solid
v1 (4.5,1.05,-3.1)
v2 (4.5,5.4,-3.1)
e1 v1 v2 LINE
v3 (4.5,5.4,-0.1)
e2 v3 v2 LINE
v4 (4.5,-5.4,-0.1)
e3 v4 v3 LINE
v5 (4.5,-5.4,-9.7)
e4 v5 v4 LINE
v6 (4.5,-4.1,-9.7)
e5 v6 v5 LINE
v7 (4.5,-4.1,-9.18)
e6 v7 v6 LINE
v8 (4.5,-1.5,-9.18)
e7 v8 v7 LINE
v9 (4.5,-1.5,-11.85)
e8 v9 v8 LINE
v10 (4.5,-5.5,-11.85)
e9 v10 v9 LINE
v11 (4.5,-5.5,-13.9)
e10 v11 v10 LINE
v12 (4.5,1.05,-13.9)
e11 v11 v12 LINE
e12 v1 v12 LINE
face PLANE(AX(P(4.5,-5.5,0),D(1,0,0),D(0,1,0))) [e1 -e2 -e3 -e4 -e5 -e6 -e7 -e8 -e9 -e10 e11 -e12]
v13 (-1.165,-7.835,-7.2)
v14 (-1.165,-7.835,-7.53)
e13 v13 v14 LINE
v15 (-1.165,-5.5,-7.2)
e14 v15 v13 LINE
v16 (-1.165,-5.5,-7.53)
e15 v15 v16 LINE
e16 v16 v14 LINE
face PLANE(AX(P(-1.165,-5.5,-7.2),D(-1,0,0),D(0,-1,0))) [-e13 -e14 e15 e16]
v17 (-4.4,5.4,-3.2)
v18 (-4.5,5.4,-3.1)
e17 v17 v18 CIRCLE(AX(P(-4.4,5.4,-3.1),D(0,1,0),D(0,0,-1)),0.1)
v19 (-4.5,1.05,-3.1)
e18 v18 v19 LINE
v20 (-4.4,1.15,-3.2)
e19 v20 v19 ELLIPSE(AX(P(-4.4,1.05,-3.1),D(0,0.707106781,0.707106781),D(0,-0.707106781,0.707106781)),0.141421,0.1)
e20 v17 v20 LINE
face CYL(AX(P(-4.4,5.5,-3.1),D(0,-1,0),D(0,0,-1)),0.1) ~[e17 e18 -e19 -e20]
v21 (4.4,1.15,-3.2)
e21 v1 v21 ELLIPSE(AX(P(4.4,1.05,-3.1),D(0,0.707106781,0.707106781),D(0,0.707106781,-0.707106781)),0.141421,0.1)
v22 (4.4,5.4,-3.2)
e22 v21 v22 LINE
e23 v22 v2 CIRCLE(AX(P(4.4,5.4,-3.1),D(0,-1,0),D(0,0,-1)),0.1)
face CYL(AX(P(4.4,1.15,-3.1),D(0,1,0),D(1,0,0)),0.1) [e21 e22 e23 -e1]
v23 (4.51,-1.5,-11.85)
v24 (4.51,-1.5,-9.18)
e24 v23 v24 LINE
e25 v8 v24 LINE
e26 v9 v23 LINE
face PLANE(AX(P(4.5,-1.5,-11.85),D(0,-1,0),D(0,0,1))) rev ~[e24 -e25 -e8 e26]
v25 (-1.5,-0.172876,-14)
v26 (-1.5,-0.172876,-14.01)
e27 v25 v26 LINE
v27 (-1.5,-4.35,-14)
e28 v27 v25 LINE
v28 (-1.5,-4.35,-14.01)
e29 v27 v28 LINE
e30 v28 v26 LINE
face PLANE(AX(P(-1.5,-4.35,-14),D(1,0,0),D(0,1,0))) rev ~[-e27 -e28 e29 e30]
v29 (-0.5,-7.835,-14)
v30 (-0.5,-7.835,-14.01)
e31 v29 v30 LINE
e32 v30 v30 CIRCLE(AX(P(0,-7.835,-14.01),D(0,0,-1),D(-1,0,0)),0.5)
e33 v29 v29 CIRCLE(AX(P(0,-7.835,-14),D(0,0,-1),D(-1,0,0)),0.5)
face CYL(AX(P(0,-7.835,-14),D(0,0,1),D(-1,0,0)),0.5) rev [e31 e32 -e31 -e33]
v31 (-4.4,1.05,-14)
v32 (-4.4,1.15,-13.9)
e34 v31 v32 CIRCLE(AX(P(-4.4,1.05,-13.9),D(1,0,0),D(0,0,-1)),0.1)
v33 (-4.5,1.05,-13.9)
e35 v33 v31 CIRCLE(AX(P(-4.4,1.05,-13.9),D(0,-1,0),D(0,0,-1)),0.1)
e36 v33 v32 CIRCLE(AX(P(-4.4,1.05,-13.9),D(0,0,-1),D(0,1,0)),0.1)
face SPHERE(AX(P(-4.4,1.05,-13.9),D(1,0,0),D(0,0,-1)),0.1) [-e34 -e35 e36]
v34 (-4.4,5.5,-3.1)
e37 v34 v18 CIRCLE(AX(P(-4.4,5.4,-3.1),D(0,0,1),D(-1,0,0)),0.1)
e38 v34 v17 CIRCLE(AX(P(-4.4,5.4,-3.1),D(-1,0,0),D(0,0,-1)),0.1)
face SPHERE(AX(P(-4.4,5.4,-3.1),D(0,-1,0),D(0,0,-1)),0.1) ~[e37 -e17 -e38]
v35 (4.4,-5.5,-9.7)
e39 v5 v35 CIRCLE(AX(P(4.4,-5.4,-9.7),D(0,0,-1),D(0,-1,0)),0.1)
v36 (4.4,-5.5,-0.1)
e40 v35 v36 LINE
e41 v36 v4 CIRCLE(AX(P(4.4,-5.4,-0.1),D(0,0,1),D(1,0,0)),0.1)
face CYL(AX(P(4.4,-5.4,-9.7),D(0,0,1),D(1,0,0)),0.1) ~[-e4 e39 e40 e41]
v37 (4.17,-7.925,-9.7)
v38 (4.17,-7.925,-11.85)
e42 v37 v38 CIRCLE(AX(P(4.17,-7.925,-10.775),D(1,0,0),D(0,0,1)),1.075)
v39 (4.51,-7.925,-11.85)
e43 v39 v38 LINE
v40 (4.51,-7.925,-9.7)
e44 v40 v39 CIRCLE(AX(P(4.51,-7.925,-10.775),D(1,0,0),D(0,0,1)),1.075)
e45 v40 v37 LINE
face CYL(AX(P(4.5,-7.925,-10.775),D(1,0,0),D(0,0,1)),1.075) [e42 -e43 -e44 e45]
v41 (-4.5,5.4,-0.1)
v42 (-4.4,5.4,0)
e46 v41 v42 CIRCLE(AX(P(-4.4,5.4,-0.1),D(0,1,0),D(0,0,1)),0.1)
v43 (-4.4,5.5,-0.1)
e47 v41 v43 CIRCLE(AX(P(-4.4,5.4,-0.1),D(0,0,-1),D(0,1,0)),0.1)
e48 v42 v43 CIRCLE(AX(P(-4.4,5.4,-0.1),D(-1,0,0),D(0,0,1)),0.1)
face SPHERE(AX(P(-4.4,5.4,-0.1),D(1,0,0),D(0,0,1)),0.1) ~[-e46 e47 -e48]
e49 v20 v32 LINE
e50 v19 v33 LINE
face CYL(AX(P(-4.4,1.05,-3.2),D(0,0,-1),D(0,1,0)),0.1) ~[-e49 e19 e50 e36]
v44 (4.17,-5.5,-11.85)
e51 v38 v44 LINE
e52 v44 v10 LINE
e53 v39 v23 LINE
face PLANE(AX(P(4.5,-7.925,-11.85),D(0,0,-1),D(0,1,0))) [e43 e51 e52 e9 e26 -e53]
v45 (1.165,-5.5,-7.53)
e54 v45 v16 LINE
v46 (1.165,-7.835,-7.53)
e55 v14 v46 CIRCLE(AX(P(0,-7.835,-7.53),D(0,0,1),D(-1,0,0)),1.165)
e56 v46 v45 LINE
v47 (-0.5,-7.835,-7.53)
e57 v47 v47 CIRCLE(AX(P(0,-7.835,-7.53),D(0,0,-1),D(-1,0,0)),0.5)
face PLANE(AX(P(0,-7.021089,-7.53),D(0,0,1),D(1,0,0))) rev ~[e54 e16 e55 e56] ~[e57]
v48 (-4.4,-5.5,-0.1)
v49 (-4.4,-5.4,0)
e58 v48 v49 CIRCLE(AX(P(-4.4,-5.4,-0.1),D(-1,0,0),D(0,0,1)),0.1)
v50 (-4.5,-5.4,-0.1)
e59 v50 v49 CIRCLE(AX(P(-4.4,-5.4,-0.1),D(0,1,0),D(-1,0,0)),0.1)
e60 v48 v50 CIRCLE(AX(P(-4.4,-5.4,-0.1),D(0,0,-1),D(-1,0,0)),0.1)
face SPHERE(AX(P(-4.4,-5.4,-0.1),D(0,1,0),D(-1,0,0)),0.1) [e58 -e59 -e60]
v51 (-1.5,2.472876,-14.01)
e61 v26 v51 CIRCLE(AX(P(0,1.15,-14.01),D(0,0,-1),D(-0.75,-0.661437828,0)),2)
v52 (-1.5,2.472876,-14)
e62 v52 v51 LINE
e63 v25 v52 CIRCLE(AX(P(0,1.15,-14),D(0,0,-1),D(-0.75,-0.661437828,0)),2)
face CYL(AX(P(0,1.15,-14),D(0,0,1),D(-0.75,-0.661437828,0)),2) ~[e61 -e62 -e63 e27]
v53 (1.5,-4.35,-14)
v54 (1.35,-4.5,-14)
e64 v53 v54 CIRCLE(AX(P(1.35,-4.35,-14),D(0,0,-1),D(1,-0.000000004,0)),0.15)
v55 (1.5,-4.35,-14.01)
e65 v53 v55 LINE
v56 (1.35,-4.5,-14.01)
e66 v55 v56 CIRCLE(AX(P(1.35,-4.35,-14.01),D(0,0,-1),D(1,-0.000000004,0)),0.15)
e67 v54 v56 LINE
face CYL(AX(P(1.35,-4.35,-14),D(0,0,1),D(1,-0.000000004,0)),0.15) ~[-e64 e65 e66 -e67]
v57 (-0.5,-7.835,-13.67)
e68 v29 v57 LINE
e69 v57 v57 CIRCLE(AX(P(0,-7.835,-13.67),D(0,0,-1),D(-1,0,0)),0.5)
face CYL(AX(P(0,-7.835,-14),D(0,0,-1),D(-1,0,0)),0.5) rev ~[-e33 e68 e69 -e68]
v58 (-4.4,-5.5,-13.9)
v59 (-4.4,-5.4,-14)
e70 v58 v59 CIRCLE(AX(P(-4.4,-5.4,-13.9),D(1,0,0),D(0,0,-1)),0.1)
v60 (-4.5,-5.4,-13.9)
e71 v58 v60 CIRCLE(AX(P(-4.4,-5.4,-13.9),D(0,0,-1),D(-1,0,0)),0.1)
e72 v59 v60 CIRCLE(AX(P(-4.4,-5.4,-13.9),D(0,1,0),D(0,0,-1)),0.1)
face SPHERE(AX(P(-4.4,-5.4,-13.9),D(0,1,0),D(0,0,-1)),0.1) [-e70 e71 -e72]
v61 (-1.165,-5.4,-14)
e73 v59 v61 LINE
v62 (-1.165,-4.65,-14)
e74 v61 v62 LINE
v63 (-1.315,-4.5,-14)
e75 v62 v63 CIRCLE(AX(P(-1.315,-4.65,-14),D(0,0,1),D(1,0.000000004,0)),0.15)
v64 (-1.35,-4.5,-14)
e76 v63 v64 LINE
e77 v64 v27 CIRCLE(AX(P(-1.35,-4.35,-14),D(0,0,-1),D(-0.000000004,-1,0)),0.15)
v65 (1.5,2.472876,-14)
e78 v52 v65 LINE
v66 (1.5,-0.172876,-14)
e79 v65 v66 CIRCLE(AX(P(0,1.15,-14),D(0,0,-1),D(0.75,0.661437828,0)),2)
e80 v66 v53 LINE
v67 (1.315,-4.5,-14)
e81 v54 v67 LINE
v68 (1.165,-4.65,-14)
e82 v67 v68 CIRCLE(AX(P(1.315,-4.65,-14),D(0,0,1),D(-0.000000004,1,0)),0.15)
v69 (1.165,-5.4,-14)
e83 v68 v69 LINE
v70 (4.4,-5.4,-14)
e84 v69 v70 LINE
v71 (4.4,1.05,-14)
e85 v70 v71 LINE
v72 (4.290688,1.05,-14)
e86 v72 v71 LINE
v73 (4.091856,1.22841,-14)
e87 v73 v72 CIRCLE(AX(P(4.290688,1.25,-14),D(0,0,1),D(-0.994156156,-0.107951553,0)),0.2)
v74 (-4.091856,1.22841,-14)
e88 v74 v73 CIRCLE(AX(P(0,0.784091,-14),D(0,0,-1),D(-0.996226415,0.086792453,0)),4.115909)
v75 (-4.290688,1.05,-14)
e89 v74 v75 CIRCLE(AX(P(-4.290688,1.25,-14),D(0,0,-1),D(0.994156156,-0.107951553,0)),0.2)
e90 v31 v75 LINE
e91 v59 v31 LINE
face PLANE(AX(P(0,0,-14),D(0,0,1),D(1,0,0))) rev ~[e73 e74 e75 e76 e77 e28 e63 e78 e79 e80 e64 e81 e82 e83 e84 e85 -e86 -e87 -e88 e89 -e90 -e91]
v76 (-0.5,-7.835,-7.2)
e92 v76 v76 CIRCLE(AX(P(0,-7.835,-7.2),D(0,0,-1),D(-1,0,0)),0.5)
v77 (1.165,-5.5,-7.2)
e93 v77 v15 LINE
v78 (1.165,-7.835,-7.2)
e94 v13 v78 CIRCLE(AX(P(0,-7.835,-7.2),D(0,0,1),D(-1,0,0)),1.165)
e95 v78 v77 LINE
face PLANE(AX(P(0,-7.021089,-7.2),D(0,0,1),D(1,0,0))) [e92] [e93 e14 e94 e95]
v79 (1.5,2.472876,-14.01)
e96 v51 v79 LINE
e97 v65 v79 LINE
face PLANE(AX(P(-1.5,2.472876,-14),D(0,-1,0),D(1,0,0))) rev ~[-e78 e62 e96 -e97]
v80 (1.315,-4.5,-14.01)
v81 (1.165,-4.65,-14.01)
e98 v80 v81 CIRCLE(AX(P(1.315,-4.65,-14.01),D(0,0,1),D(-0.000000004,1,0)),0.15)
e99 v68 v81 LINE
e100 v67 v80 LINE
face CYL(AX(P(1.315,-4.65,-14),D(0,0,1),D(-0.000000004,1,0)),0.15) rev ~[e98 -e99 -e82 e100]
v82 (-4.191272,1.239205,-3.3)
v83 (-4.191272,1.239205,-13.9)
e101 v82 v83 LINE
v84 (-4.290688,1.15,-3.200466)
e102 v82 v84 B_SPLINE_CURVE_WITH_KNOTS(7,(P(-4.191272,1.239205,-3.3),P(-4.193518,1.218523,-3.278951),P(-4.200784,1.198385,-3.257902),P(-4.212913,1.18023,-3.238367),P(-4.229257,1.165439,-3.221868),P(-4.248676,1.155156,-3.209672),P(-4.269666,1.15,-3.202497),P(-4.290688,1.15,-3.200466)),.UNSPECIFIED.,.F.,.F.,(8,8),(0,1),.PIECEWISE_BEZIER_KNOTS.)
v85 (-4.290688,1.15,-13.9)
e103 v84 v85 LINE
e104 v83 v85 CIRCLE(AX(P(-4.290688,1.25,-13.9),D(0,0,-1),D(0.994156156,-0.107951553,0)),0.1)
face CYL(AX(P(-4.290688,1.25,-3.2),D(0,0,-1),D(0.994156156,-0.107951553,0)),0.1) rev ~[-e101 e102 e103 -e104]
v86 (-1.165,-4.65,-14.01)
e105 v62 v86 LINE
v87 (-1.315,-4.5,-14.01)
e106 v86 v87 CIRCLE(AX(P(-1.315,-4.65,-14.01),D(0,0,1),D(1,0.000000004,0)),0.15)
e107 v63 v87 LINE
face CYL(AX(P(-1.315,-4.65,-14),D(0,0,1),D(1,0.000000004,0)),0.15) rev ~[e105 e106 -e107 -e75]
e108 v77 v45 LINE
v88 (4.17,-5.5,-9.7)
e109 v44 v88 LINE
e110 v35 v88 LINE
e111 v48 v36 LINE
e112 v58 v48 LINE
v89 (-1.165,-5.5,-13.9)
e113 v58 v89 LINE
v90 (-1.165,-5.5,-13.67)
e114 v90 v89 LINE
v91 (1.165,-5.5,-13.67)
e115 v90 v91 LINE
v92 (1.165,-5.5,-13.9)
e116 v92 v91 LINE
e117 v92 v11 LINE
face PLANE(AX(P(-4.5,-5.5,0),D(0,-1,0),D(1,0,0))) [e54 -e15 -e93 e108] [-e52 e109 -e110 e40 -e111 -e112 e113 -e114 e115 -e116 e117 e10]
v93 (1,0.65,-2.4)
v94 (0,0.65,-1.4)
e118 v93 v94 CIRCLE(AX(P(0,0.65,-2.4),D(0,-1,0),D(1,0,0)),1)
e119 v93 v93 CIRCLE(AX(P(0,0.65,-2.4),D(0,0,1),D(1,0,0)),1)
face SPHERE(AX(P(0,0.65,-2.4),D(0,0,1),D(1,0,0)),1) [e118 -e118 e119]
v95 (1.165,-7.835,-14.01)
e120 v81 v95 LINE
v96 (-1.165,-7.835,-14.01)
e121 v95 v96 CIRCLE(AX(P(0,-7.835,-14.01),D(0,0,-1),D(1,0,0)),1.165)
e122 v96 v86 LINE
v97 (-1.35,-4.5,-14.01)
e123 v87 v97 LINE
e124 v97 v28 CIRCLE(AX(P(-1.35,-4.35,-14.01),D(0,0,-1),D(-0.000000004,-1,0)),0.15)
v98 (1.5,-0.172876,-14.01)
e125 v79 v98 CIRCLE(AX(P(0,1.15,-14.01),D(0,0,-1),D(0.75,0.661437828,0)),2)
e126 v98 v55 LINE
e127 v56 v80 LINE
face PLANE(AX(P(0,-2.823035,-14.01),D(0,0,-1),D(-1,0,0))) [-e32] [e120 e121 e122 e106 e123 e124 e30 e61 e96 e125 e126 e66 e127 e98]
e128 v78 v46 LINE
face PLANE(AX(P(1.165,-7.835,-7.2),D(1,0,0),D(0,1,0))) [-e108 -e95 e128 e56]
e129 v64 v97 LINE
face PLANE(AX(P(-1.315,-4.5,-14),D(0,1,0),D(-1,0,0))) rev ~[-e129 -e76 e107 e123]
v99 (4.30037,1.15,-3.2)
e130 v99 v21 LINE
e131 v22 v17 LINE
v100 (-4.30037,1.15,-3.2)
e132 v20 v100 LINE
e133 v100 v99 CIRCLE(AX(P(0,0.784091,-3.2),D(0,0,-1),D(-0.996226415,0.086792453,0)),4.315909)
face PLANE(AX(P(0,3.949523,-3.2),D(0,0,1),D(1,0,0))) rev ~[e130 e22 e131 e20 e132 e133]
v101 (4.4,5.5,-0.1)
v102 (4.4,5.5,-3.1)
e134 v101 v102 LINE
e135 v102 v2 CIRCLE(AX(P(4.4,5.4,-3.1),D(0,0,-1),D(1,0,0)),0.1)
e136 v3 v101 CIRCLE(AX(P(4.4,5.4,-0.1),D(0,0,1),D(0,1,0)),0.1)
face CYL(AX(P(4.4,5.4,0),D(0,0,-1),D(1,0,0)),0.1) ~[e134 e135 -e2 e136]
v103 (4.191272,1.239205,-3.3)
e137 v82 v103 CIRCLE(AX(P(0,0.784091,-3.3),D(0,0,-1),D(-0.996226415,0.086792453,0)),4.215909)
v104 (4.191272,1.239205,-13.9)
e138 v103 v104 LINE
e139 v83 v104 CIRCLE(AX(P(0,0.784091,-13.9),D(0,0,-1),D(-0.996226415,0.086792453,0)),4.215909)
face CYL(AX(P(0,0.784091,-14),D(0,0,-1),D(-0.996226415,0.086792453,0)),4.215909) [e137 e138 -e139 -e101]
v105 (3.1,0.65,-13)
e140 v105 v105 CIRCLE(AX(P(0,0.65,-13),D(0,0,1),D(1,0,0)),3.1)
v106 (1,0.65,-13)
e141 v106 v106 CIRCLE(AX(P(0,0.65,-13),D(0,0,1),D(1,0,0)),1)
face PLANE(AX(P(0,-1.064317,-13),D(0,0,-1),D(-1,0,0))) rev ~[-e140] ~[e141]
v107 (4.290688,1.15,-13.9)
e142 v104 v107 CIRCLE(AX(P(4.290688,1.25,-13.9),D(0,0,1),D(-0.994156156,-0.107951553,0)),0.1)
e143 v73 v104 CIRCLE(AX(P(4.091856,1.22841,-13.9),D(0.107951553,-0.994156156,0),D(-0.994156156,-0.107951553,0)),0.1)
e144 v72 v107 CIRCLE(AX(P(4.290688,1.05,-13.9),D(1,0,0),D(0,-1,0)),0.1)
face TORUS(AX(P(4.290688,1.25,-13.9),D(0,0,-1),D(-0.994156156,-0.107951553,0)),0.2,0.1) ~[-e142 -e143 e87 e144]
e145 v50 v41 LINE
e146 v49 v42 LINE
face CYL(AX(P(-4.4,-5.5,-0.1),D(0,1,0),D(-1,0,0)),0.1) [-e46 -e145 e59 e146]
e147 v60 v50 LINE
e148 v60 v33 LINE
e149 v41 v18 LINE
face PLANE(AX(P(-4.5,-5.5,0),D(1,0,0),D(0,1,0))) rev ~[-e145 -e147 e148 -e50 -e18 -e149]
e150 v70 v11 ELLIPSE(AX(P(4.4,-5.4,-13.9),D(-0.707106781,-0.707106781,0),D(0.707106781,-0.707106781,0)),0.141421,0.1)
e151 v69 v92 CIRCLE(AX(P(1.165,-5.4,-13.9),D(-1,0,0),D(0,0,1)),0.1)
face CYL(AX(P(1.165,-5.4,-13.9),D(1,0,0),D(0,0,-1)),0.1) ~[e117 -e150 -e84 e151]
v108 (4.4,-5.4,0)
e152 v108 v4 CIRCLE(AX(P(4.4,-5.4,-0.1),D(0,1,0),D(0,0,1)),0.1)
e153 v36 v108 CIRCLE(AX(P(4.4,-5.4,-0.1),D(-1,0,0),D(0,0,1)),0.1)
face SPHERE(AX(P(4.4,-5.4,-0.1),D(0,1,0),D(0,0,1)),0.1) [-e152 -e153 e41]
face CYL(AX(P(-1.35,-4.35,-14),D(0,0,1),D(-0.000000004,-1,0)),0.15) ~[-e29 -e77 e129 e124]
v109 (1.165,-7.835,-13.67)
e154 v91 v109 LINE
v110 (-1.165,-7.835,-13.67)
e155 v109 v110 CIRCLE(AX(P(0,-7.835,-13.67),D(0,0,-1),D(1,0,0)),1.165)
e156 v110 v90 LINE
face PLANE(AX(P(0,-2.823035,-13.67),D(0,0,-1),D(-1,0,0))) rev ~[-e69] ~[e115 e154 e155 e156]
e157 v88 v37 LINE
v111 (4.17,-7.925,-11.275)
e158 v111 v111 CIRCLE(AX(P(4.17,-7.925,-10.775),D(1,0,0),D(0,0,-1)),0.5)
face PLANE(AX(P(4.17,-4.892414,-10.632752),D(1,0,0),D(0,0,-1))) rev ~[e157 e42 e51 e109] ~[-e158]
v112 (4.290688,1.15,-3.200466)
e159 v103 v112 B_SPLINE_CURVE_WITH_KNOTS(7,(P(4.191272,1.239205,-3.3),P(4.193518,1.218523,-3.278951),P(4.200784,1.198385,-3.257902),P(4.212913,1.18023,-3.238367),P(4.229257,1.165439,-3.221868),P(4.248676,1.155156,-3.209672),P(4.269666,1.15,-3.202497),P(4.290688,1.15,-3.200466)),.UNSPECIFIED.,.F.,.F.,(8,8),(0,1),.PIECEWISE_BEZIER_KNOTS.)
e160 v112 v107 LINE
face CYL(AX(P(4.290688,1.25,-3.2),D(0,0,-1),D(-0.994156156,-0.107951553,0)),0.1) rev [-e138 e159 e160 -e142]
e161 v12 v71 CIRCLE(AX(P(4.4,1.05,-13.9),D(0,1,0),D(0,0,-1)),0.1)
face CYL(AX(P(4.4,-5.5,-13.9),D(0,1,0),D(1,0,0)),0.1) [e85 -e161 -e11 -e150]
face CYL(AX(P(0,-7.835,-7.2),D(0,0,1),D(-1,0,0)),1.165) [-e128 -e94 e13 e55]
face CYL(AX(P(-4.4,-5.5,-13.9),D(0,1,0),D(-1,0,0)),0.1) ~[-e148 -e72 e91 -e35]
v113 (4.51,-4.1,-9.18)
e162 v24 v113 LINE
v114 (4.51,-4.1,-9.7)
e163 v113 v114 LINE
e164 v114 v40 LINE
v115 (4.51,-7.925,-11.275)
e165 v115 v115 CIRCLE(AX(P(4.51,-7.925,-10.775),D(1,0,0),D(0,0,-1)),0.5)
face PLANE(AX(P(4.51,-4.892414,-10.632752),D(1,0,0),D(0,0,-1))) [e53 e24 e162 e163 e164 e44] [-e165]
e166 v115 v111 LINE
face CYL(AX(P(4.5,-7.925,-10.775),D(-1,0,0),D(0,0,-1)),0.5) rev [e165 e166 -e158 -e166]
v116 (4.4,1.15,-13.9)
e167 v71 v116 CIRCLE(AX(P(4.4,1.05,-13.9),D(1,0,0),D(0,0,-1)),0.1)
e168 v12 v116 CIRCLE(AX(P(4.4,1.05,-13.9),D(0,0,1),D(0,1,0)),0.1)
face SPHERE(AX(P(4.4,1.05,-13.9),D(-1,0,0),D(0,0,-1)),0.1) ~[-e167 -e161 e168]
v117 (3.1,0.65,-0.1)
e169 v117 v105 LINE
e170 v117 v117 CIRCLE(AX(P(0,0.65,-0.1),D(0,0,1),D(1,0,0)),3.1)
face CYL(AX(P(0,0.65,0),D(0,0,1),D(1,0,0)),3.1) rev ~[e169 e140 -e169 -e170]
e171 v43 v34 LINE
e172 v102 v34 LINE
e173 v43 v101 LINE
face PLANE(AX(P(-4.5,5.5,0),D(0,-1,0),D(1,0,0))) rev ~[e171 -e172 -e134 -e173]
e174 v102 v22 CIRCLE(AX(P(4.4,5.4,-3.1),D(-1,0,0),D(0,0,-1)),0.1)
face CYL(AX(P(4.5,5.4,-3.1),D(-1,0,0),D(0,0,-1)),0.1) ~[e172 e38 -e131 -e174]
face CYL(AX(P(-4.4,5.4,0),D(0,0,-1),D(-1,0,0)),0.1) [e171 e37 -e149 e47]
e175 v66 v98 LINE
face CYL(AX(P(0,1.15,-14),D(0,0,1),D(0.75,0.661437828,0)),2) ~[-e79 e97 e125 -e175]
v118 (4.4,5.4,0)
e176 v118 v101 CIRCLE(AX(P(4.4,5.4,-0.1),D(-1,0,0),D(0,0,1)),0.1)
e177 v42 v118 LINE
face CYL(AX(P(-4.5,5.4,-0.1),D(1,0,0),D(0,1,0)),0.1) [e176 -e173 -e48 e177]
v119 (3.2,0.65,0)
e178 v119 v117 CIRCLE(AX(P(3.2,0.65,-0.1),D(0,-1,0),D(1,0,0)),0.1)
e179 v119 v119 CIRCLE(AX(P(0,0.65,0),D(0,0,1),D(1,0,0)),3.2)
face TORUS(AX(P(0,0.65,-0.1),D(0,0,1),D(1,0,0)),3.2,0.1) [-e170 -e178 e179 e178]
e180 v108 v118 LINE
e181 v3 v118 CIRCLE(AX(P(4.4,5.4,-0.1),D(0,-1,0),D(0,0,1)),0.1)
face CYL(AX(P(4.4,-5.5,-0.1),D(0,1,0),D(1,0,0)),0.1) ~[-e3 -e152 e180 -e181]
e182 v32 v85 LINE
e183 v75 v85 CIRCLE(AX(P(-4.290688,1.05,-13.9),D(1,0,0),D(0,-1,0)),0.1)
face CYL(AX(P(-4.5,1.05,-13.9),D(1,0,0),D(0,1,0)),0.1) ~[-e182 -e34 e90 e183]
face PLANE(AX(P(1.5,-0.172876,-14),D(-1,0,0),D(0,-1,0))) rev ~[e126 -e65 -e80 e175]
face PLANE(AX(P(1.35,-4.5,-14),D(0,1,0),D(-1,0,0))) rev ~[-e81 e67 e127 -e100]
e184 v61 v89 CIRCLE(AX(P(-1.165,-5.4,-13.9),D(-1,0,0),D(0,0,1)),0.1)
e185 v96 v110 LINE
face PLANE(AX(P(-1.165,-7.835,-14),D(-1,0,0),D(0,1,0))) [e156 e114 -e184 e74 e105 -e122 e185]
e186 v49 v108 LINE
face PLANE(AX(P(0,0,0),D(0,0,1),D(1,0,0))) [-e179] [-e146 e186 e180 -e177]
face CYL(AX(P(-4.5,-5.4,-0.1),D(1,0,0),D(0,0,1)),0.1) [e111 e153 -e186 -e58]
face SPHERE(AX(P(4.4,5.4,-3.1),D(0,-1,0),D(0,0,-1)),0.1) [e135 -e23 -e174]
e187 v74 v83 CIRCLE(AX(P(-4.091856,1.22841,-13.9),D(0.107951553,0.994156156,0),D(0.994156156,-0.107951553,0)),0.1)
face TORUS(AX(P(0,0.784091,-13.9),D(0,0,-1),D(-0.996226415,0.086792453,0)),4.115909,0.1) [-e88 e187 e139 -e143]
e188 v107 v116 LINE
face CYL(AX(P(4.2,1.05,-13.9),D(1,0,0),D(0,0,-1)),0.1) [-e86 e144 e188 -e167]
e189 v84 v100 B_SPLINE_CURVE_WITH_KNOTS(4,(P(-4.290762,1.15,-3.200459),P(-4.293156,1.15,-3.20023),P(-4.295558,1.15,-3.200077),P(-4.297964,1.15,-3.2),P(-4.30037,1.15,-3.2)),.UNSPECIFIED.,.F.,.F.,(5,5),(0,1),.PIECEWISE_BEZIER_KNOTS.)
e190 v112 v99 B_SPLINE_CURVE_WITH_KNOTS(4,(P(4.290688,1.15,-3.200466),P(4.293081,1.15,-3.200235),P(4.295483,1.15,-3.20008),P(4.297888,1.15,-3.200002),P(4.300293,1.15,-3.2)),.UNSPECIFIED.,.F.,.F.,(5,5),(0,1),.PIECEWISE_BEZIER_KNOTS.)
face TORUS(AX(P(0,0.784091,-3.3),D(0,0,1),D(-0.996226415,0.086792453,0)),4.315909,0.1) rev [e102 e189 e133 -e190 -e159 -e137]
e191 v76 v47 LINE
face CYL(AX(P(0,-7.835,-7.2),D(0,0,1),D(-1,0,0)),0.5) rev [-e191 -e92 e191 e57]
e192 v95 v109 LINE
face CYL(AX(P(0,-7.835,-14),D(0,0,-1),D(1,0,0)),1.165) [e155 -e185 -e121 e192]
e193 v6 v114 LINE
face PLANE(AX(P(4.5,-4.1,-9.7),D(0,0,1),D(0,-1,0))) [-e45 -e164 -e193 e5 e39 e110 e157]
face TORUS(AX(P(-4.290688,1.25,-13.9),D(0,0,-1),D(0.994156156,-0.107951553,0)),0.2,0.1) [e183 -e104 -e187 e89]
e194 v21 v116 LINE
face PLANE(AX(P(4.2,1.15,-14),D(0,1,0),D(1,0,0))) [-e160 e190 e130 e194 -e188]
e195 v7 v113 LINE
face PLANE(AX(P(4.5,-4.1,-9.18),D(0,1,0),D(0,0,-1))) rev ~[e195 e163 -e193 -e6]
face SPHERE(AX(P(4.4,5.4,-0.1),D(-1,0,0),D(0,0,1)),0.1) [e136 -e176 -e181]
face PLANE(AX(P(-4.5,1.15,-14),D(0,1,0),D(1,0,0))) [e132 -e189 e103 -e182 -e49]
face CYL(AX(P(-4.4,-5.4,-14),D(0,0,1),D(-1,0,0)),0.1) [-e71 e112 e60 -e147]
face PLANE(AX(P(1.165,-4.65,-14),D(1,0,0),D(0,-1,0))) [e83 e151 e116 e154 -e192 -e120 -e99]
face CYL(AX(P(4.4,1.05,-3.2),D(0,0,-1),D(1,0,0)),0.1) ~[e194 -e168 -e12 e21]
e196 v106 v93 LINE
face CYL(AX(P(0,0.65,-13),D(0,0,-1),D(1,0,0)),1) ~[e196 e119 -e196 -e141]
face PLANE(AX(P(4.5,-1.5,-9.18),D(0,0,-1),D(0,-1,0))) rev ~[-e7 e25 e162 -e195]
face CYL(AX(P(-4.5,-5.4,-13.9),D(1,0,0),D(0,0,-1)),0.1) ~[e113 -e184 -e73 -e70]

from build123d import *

# Parameters (mm, degrees)
SKETCH1_W                = 9
SKETCH1_H                = 11
SKETCH1_R                = 3.1
BOSS_EXTRUDE1_DEPTH      = 14
CUT_EXTRUDE1_DEPTH       = 10.8
BOSS_EXTRUDE2_DEPTH      = 1
SKETCH4_R                = 1
BOSS_EXTRUDE3_DEPTH      = 11.6
FILLET1_R                = 1
SKETCH5_R                = 0.5
BOSS_EXTRUDE4_DEPTH      = 0.01
BOSS_EXTRUDE4_DEPTH_BACK = 0.33
SKETCH6_R                = 0.5
BOSS_EXTRUDE5_DEPTH      = 0.01
BOSS_EXTRUDE5_DEPTH_BACK = 0.33
SKETCH8_R                = 0.5
BOSS_EXTRUDE6_DEPTH      = 0.33
FILLET2_R                = 0.1


with BuildPart() as part:
    # Sketch1 → Boss-Extrude1 (new body)
    with BuildSketch(Plane.XY):
        Rectangle(SKETCH1_W, SKETCH1_H)
        with Locations((0, 0.65)):
            Circle(SKETCH1_R, mode=Mode.SUBTRACT)
    extrude(amount=-BOSS_EXTRUDE1_DEPTH)

    # Sketch2 → Cut-Extrude1 (cut)
    with BuildSketch(Plane(origin=(0, 0, -14), x_dir=(-1, 0, 0), z_dir=(0, 0, -1))):
        with BuildLine():
            Line((-4.5, 5.5), (4.5, 5.5))
            Line((4.5, 5.5), (4.5, 1.15))
            Line((4.5, 1.15), (4.2, 1.15))
            ThreePointArc((4.2, 1.15), (0, 5), (-4.2, 1.15))
            Line((-4.2, 1.15), (-4.5, 1.15))
            Line((-4.5, 1.15), (-4.5, 5.5))
        make_face()
    extrude(amount=-CUT_EXTRUDE1_DEPTH, mode=Mode.SUBTRACT)

    # Sketch3 → Boss-Extrude2 (add)
    with BuildSketch(Plane(origin=(0, 0, -14), x_dir=(-1, 0, 0), z_dir=(0, 0, -1))):
        with BuildLine():
            Line((-4.5, 1.15), (-4.5, -5.5))
            Line((-4.5, -5.5), (4.5, -5.5))
            Line((4.5, -5.5), (4.5, 1.15))
            Line((4.5, 1.15), (4.2, 1.15))
            ThreePointArc((4.2, 1.15), (0, 5), (-4.2, 1.15))
            Line((-4.2, 1.15), (-4.5, 1.15))
        make_face()
    extrude(amount=-BOSS_EXTRUDE2_DEPTH)

    # Sketch4 → Boss-Extrude3 (add)
    with BuildSketch(Plane.XY.offset(-13)):
        with Locations((0, 0.65)):
            Circle(SKETCH4_R)
    extrude(amount=BOSS_EXTRUDE3_DEPTH)

    # Fillet1
    fillet1_edges = [part.edges().sort_by_distance(p)[0] for p in [
        (-1, 0.65, -1.4),
    ]]
    fillet(fillet1_edges, radius=FILLET1_R)

    # Sketch5 → Boss-Extrude4 (add, two sides)
    with BuildSketch(Plane(origin=(0, 0, -14), x_dir=(-1, 0, 0), z_dir=(0, 0, -1))) as boss_extrude4_sk:
        with BuildLine():
            Line((1.5, 2.472875656), (-1.5, 2.472875656))
            ThreePointArc((-1.5, 2.472875656), (-2, 1.15), (-1.5, -0.172875656))
            Line((-1.5, -0.172875656), (-1.5, -4.35))
            ThreePointArc((-1.5, -4.35), (-1.456066017, -4.456066017), (-1.35, -4.5))
            Line((-1.35, -4.5), (-1.315, -4.5))
            ThreePointArc((-1.315, -4.5), (-1.208933983, -4.543933983), (-1.165, -4.65))
            Line((-1.165, -4.65), (-1.165, -7.835))
            ThreePointArc((-1.165, -7.835), (0, -9), (1.165, -7.835))
            Line((1.165, -7.835), (1.165, -4.65))
            ThreePointArc((1.165, -4.65), (1.208933983, -4.543933983), (1.315, -4.5))
            Line((1.315, -4.5), (1.35, -4.5))
            ThreePointArc((1.35, -4.5), (1.456066017, -4.456066017), (1.5, -4.35))
            Line((1.5, -4.35), (1.5, -0.172875656))
            ThreePointArc((1.5, -0.172875656), (2, 1.15), (1.5, 2.472875656))
        make_face()
        with Locations((0, -7.835)):
            Circle(SKETCH5_R, mode=Mode.SUBTRACT)
    extrude(amount=BOSS_EXTRUDE4_DEPTH)
    extrude(boss_extrude4_sk.sketch, amount=-BOSS_EXTRUDE4_DEPTH_BACK)

    # Sketch6 → Boss-Extrude5 (add, two sides)
    with BuildSketch(Plane(origin=(4.5, 0, 0), x_dir=(0, 0, -1), z_dir=(1, 0, 0))) as boss_extrude5_sk:
        with BuildLine():
            Line((11.85, -7.925), (11.85, -1.5))
            Line((11.85, -1.5), (9.18, -1.5))
            Line((9.18, -1.5), (9.18, -4.1))
            Line((9.18, -4.1), (9.7, -4.1))
            Line((9.7, -4.1), (9.7, -7.925))
            ThreePointArc((9.7, -7.925), (10.775, -9), (11.85, -7.925))
        make_face()
        with Locations((10.775, -7.925)):
            Circle(SKETCH6_R, mode=Mode.SUBTRACT)
    extrude(amount=BOSS_EXTRUDE5_DEPTH)
    extrude(boss_extrude5_sk.sketch, amount=-BOSS_EXTRUDE5_DEPTH_BACK)

    # Sketch8 → Boss-Extrude6 (add)
    with BuildSketch(Plane(origin=(0, 0, -7.2), x_dir=(-1, 0, 0), z_dir=(0, 0, -1))):
        with BuildLine():
            Line((-1.165, -5.5), (1.165, -5.5))
            Line((1.165, -5.5), (1.165, -7.835))
            ThreePointArc((1.165, -7.835), (0, -9), (-1.165, -7.835))
            Line((-1.165, -7.835), (-1.165, -5.5))
        make_face()
        with Locations((0, -7.835)):
            Circle(SKETCH8_R, mode=Mode.SUBTRACT)
    extrude(amount=BOSS_EXTRUDE6_DEPTH)

    # Fillet2
    fillet2_edges = [part.edges().sort_by_distance(p)[0] for p in [
        (4.35, 1.15, -14),
        (-4.35, 1.15, -14),
        (-3.1, 0.65, 0),
        (4.5, 3.325, -3.2),
        (-4.5, 3.325, -3.2),
        (-4.5, -2.175, -14),
        (-2.8325, -5.5, -14),
        (2.8325, -5.5, -14),
        (4.5, -2.175, -14),
        (4.5, 1.15, -8.6),
        (4.2, 1.15, -8.6),
        (-4.2, 1.15, -8.6),
        (-4.5, 1.15, -8.6),
        (0, 5, -3.2),
        (0, 5, -14),
        (0, 5.5, -3.2),
        (0, 5.5, 0),
        (4.5, 0, 0),
        (-4.5, 0, 0),
        (-4.5, -5.5, -7),
        (0, -5.5, 0),
        (4.5, -5.5, -4.85),
        (-4.5, 5.5, -1.6),
        (4.5, 5.5, -1.6),
    ]]
    fillet(fillet2_edges, radius=FILLET2_R)


solid = part.part
